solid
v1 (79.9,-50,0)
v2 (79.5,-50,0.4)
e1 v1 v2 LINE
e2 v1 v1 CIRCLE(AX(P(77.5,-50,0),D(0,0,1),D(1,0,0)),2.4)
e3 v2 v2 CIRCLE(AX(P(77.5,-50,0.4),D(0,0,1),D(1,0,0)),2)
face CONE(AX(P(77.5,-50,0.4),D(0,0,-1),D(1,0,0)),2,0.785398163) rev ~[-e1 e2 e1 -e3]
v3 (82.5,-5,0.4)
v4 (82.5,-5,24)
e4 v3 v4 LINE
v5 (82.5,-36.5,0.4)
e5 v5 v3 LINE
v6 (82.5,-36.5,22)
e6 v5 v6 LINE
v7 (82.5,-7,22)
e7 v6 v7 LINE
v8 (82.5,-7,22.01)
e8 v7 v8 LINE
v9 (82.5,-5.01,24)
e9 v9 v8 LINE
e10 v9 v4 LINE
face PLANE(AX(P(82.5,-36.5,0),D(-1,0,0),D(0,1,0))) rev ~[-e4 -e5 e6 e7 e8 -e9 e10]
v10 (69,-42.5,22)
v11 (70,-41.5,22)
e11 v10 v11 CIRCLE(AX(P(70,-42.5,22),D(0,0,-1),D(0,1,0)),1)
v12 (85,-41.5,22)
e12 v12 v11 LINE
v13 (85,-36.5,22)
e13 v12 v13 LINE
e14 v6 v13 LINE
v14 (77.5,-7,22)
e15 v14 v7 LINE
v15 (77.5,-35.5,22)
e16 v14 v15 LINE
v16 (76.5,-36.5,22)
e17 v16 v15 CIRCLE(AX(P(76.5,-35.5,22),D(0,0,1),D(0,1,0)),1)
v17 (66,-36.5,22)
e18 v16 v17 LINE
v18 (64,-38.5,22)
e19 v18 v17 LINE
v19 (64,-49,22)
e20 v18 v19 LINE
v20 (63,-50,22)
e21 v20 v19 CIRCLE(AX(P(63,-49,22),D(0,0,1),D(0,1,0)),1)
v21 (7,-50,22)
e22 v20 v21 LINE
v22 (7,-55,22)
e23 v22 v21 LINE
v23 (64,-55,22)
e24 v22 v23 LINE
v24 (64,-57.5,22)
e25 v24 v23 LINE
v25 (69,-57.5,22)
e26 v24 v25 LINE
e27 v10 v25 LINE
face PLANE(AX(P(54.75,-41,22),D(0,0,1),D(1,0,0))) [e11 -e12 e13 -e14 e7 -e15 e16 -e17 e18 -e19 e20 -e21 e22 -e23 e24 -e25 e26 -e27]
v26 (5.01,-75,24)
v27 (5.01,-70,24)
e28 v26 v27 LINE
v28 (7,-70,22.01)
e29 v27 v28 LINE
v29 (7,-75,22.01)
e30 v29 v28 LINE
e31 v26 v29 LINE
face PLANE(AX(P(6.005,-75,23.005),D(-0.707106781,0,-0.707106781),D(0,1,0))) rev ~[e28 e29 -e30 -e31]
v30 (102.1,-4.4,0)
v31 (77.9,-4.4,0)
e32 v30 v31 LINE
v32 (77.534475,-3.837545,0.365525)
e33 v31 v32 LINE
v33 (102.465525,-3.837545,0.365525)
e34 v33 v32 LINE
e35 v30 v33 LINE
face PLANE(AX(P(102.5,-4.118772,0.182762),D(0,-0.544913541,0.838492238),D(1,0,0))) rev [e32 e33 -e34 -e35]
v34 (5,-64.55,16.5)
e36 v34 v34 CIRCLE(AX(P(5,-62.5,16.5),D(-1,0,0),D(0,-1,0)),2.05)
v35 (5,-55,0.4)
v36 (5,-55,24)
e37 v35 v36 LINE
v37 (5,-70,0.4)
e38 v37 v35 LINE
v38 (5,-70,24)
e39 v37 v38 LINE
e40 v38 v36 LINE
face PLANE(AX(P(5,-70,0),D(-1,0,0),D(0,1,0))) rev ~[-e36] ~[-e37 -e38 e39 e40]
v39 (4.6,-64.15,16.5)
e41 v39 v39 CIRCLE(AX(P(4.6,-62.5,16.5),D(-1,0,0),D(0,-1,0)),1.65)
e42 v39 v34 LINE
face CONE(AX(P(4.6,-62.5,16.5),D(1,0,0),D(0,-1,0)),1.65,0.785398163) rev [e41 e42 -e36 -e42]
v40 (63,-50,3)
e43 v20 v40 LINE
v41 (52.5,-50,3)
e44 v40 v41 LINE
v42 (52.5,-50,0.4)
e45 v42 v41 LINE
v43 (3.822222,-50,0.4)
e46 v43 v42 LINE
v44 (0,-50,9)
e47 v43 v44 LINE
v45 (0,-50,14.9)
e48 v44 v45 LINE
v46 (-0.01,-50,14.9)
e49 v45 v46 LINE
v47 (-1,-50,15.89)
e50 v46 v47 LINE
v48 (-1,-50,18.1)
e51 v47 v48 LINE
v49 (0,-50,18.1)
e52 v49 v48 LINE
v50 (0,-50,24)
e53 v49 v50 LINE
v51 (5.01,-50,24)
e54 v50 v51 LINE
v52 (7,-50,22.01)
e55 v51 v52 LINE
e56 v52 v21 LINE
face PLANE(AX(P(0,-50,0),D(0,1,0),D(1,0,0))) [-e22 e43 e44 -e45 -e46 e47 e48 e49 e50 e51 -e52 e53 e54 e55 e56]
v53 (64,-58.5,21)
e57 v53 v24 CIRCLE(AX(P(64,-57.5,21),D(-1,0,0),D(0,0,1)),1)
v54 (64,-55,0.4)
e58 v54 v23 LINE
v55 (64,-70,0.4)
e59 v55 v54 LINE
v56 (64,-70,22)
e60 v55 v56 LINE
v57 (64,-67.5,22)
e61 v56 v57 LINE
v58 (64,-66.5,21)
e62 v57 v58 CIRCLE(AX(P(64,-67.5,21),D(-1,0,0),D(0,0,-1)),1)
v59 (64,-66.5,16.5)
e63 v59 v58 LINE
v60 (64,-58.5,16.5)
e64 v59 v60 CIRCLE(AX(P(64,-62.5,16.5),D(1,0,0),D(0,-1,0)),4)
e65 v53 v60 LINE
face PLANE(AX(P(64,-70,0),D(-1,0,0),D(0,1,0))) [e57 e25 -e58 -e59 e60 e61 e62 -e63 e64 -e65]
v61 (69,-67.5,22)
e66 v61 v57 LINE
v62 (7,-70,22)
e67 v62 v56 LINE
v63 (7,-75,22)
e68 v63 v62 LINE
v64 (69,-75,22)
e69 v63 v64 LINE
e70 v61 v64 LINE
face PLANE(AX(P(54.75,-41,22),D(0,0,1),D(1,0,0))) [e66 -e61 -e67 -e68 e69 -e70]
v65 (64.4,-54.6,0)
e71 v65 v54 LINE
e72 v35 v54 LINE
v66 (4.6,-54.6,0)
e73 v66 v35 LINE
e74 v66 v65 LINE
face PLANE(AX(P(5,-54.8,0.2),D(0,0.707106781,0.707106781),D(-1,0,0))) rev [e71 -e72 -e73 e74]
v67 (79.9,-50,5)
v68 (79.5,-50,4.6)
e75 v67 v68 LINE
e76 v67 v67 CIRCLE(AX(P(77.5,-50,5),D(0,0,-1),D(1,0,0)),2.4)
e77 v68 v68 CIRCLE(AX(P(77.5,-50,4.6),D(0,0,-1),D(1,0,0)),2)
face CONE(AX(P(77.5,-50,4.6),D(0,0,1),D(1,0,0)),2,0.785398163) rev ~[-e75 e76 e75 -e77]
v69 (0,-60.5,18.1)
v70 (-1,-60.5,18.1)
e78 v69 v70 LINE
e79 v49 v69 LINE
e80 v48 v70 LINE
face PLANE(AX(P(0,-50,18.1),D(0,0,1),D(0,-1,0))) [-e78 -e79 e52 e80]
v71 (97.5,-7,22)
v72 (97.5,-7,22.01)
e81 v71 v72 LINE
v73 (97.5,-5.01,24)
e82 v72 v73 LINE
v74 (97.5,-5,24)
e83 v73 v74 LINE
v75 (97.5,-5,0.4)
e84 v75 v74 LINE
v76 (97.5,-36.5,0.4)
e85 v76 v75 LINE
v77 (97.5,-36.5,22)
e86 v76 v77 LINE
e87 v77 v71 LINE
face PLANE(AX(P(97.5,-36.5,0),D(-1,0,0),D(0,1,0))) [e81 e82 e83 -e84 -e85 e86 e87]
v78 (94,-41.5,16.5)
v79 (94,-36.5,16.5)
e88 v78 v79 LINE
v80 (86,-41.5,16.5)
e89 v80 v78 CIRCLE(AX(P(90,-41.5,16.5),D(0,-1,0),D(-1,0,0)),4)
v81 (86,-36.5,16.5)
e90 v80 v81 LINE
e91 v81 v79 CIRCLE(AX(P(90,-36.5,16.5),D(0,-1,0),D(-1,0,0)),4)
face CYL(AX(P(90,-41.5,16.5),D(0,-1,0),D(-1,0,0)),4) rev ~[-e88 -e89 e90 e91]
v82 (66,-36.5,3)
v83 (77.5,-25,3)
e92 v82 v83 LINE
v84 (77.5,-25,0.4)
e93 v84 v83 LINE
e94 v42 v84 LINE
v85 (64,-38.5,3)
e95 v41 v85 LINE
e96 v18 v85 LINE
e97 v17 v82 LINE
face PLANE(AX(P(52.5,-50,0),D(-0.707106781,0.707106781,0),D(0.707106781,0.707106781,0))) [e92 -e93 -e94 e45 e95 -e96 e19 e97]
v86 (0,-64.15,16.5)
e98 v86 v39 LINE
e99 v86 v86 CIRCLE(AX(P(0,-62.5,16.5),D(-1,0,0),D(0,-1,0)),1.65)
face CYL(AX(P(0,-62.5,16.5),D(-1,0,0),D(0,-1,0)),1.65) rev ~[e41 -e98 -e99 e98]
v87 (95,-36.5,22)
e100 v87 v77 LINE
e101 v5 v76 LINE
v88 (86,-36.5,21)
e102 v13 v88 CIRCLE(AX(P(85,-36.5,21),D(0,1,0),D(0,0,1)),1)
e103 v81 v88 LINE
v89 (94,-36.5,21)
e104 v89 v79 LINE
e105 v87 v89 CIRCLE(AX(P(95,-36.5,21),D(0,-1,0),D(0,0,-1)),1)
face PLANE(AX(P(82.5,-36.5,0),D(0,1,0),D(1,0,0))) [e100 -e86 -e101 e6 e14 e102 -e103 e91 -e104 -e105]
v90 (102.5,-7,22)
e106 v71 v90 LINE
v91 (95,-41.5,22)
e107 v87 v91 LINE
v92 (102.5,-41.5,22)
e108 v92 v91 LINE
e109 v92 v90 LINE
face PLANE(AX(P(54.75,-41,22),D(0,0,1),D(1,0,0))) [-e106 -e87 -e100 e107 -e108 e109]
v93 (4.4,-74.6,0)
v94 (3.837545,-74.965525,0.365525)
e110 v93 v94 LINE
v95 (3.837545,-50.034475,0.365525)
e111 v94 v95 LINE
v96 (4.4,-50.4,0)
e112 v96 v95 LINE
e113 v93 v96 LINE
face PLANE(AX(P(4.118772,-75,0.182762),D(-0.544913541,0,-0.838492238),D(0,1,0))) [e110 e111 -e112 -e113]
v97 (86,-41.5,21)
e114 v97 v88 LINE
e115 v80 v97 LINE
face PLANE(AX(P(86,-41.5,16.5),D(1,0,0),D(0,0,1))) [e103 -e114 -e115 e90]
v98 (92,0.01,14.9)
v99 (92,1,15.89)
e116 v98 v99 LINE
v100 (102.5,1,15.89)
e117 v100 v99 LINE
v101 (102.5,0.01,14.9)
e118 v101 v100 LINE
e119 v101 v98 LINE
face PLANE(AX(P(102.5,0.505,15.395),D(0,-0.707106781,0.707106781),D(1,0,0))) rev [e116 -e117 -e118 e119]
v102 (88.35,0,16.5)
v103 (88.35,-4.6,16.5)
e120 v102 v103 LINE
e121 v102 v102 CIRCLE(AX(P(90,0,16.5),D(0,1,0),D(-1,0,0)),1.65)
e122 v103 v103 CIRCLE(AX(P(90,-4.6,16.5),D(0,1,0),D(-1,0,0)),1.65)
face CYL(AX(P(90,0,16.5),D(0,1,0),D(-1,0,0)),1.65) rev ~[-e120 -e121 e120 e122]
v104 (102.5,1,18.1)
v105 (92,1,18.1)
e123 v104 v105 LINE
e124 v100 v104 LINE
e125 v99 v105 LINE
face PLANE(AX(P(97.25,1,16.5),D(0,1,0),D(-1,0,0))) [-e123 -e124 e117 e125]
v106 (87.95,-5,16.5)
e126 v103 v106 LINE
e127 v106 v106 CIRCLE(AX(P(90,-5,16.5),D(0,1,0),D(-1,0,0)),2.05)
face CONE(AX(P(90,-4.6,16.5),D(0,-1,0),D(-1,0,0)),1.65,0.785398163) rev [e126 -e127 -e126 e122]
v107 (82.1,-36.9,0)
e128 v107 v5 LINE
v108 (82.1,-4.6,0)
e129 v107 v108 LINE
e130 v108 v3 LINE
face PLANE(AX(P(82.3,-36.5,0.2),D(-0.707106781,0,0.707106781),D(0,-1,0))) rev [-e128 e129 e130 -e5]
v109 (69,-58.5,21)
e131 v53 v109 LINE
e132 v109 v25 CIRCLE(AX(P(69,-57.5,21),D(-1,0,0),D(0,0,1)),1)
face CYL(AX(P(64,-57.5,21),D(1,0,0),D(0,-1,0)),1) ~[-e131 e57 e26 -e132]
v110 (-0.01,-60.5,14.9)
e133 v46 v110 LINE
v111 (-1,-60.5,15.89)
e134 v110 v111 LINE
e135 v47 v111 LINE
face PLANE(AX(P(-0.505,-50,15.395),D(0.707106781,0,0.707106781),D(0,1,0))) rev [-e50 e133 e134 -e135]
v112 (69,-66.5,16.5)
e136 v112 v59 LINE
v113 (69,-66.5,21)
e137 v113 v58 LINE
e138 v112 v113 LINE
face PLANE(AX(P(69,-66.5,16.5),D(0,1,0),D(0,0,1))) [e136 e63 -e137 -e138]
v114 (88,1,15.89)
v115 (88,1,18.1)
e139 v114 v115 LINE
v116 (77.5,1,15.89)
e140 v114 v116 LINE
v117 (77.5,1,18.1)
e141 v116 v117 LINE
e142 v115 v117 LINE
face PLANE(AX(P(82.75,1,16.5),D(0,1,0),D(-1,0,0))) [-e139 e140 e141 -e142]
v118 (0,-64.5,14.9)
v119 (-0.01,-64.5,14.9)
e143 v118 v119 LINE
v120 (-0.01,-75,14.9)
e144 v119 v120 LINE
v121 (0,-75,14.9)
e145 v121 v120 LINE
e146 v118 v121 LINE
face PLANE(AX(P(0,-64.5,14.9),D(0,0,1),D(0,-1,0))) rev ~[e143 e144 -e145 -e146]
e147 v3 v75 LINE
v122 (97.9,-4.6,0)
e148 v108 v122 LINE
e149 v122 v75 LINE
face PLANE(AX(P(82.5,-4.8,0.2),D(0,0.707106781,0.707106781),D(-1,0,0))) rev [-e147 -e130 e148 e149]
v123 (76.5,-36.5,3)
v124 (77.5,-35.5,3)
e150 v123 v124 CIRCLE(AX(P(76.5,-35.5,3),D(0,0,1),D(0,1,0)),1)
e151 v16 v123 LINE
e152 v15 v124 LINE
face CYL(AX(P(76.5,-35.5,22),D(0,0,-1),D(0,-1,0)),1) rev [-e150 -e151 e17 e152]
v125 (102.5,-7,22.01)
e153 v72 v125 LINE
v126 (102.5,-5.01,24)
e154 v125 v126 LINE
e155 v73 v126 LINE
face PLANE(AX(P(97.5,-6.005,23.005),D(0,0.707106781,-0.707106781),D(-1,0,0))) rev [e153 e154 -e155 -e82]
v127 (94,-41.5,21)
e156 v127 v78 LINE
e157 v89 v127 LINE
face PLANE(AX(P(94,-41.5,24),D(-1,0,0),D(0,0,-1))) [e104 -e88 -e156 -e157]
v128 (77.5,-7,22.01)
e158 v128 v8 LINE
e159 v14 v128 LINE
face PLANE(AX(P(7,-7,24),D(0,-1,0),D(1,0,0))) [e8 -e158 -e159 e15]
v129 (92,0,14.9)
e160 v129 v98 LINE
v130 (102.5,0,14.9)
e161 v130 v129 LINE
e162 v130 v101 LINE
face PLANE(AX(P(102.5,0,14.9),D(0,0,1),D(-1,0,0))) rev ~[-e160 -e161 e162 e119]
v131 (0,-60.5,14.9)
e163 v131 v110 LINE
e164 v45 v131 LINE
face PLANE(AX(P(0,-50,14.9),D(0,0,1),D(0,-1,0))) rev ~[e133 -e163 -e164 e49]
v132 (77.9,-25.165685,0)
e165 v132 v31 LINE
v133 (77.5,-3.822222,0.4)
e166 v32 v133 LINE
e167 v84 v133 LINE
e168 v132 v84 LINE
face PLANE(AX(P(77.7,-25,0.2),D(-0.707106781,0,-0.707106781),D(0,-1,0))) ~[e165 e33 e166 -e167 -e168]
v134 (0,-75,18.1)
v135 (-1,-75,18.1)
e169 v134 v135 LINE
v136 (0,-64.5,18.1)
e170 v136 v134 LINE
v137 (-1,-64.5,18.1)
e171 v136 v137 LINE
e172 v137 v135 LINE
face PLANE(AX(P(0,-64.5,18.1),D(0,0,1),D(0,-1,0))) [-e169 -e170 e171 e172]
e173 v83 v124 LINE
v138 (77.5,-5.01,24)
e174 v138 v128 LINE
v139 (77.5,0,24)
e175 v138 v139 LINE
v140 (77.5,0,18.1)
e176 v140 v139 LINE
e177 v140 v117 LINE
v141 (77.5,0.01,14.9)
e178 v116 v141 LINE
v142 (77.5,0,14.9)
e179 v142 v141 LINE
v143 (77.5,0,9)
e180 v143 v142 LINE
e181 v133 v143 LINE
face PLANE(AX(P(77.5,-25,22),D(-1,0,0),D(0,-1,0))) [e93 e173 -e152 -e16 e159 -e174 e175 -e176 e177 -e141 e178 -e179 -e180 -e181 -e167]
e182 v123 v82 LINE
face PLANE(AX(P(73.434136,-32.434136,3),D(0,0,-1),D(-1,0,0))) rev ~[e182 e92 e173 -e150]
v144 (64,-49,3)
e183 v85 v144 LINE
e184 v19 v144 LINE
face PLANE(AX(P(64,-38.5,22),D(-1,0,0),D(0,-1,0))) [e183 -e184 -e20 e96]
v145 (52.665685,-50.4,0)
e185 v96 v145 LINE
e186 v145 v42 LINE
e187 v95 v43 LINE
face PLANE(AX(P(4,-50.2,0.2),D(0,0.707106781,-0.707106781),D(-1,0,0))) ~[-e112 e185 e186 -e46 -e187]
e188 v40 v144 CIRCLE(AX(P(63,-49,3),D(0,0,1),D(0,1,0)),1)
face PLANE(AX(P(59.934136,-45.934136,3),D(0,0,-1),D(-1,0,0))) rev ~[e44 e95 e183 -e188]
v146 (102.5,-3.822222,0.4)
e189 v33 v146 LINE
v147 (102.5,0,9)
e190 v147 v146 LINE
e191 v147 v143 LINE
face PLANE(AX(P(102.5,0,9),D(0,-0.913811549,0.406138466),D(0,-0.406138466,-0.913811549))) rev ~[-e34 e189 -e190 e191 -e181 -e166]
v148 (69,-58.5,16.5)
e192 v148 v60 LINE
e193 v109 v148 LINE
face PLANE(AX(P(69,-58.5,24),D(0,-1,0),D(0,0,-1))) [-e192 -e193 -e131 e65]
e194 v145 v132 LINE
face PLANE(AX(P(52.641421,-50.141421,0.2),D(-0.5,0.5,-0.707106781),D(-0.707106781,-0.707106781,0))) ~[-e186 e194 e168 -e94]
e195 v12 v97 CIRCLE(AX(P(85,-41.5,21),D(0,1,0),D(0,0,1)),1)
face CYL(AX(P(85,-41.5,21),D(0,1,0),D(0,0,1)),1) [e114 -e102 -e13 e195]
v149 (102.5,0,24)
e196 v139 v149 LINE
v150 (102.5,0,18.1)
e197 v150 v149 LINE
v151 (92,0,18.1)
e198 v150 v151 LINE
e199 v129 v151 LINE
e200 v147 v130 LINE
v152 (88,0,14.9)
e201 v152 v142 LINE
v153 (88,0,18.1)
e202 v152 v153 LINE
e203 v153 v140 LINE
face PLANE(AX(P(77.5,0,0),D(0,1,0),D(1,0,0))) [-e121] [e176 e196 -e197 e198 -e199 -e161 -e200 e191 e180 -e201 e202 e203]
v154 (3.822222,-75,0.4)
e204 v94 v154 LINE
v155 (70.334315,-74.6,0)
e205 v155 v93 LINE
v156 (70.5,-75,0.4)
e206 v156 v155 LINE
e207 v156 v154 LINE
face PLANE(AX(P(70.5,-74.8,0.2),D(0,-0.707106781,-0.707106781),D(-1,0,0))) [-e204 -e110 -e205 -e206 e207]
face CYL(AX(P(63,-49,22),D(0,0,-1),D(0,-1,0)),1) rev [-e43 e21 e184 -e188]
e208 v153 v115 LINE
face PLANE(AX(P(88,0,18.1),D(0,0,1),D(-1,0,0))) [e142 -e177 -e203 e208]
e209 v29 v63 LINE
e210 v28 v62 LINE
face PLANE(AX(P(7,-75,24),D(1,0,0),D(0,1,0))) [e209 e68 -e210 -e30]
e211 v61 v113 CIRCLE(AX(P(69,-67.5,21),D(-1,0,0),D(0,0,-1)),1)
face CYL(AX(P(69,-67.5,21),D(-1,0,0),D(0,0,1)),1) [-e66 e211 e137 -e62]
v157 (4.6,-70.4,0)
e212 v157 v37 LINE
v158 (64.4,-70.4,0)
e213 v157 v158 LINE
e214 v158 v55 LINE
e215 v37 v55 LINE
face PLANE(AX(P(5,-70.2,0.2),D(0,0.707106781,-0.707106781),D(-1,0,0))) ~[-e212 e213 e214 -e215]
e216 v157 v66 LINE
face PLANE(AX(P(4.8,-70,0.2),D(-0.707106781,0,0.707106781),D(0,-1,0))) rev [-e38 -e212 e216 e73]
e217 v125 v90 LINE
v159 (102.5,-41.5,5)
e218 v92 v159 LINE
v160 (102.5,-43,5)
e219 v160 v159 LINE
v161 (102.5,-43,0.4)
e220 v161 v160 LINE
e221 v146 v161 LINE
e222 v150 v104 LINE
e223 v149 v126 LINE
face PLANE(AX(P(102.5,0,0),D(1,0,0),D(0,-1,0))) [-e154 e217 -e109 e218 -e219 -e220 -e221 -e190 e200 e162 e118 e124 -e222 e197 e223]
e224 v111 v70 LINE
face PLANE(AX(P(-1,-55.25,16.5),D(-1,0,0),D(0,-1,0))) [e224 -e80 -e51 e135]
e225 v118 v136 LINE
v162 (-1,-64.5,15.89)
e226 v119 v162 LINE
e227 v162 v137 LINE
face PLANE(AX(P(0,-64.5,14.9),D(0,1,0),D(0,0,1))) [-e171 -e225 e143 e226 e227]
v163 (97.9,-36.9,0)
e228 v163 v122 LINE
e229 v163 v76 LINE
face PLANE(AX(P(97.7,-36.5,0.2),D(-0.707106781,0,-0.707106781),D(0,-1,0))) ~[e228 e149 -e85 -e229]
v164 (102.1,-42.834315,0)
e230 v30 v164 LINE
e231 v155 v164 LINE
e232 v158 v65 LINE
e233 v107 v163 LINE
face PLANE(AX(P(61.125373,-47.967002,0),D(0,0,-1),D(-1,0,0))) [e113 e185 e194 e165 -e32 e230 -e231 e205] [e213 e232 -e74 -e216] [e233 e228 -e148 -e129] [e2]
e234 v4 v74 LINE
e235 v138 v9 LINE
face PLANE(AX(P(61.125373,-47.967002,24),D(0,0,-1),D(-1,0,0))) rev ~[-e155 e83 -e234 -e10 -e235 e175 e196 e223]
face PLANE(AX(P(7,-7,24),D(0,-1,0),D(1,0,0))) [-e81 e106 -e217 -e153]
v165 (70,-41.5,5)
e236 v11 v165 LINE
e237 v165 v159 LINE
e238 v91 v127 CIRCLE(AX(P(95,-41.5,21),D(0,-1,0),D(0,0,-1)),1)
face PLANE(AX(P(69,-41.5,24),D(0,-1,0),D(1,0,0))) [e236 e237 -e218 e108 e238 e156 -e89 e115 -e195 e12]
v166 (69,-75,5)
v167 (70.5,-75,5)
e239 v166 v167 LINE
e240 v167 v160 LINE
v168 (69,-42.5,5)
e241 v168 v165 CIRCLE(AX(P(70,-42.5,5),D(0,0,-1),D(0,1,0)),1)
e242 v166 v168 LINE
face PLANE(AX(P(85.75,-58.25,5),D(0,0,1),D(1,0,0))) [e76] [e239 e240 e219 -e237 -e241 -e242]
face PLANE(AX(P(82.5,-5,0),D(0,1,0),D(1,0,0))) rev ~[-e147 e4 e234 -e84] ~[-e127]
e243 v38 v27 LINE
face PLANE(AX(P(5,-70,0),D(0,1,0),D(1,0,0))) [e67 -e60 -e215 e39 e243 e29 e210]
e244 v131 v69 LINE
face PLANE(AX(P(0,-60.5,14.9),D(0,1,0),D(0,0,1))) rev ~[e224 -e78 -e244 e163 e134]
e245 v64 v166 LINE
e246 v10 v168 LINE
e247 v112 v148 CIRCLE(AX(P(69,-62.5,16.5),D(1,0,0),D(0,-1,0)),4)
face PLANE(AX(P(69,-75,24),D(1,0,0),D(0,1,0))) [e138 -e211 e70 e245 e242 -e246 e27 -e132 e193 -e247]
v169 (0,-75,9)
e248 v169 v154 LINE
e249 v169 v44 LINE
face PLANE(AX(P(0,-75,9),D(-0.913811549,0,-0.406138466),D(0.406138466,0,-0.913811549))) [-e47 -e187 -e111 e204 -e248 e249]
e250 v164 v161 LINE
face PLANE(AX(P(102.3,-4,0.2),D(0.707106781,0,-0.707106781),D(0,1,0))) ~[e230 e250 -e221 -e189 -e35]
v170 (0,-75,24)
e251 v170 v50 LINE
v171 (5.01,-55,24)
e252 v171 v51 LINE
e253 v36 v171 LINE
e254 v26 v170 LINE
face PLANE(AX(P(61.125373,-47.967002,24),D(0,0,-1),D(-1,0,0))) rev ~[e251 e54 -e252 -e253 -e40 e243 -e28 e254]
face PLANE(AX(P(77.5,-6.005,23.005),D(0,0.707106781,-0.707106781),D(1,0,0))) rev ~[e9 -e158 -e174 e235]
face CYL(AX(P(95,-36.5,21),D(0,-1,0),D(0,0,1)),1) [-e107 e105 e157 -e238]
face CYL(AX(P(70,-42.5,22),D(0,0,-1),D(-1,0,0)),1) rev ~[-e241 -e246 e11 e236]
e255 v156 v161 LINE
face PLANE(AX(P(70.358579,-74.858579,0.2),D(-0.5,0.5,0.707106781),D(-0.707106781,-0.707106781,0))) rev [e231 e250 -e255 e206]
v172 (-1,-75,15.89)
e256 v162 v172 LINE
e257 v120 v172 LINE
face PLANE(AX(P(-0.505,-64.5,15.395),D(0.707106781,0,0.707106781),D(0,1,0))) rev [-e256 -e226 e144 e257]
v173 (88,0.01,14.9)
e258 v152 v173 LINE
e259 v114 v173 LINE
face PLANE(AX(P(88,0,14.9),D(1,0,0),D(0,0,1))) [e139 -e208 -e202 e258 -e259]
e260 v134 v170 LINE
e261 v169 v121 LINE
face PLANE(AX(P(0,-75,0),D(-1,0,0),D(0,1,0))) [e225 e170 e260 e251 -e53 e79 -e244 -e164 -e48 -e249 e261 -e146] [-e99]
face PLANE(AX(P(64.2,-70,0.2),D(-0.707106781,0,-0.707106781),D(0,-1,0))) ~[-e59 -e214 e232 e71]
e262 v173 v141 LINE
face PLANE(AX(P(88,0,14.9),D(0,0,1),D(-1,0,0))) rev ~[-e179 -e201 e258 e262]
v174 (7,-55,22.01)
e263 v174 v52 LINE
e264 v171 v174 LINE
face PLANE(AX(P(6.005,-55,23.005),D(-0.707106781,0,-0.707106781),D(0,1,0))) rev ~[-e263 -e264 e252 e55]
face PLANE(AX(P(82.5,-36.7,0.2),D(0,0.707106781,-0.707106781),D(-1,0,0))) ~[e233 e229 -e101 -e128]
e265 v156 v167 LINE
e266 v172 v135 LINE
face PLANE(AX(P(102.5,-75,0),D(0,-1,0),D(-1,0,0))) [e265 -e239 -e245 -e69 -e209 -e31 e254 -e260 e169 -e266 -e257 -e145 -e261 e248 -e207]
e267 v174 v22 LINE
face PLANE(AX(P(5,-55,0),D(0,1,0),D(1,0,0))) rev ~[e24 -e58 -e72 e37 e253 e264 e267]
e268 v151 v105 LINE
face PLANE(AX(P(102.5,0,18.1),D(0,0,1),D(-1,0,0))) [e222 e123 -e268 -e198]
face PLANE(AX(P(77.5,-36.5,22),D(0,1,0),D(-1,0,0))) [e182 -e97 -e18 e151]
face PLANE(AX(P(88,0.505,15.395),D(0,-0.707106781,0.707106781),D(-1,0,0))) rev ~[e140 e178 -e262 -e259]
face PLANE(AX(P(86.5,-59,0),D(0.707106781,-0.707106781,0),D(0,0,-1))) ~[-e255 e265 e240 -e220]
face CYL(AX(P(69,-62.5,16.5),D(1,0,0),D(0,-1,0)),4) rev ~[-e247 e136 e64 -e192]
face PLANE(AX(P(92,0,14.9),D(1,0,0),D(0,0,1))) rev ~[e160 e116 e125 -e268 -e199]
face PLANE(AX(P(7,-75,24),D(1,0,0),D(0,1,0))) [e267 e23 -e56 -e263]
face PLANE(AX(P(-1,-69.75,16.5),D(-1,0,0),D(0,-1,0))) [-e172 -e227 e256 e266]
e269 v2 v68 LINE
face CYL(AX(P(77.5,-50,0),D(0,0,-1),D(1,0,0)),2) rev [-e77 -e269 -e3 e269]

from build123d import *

# Parameters (mm, degrees)
SKETCH005_R        = 2
SKETCH005_W        = 59
SKETCH005_H        = 15
SKETCH005_W_2      = 15
SKETCH005_H_2      = 31.5
PAD002_DEPTH       = 24
SKETCH007_W        = 33.5
SKETCH007_H        = 33.5
POCKET003_DEPTH    = 19
CHAMFER002004_SIZE = 32
SKETCH008_W        = 95.5
SKETCH008_H        = 68
POCKET004_DEPTH    = 2
CHAMFER002005_SIZE = 1.99
POCKET005_DEPTH    = 75.001
POCKET006_DEPTH    = 102.501
POCKET007_DEPTH    = 19
SKETCH012_R        = 1.65
POCKET008_DEPTH    = 5
SKETCH013_R        = 1.65
POCKET009_DEPTH    = 5
SKETCH014_W        = 10.5
SKETCH014_H        = 3.2
PAD003_DEPTH       = 1
SKETCH015_W        = 10.5
SKETCH015_H        = 3.2
PAD004_DEPTH       = 1
CHAMFER002006_SIZE = 0.99
POCKET010_DEPTH    = 5
POCKET011_DEPTH    = 5
CHAMFER002007_SIZE = 0.4
FILLET001002_R     = 1
CHAMFER002008_SIZE = 0.4


with BuildPart() as part:
    # Sketch005 → Pad002 (new body)
    with BuildSketch(Plane.XY):
        Polygon((52.5, -50), (77.5, -25), (77.5, 0), (102.5, 0), (102.5, -75), (0, -75), (0, -50), align=None)
        with Locations((77.5, -50)):
            Circle(SKETCH005_R, mode=Mode.SUBTRACT)
        with Locations((34.5, -62.5)):
            Rectangle(SKETCH005_W, SKETCH005_H, mode=Mode.SUBTRACT)
        with Locations((90, -20.75)):
            Rectangle(SKETCH005_W_2, SKETCH005_H_2, mode=Mode.SUBTRACT)
    extrude(amount=PAD002_DEPTH)

    # Sketch007 (on Face18 of Pad002) → Pocket003 (cut)
    with BuildSketch(Plane.XY.offset(24)):
        with Locations((85.75, -58.25)):
            Rectangle(SKETCH007_W, SKETCH007_H)
    extrude(amount=-POCKET003_DEPTH, mode=Mode.SUBTRACT)

    # Chamfer002004
    chamfer002004_edges = [part.edges().sort_by_distance(p)[0] for p in [
        (102.5, -75, 2.5),
    ]]
    chamfer(chamfer002004_edges, length=CHAMFER002004_SIZE)

    # Sketch008 (on Face6 of Chamfer002004) → Pocket004 (cut)
    with BuildSketch(Plane.XY.offset(24)):
        with Locations((54.75, -41)):
            Rectangle(SKETCH008_W, SKETCH008_H)
    extrude(amount=-POCKET004_DEPTH, mode=Mode.SUBTRACT)

    # Chamfer002005
    chamfer002005_edges = [part.edges().sort_by_distance(p)[0] for p in [
        (7, -72.5, 24),
        (7, -52.5, 24),
        (80, -7, 24),
        (100, -7, 24),
    ]]
    chamfer(chamfer002005_edges, length=CHAMFER002005_SIZE)

    # Sketch009 (on Face1 of Chamfer002005) → Pocket005 (cut, through all)
    with BuildSketch(Plane.XZ.offset(75)):
        Polygon((0, 9), (4, 0), (0, 0), align=None)
    extrude(amount=-POCKET005_DEPTH, mode=Mode.SUBTRACT)

    # Sketch010 (on Face17 of Pocket005) → Pocket006 (cut, through all)
    with BuildSketch(Plane.YZ.offset(102.5)):
        Polygon((0, 9), (-4, 0), (0, 0), align=None)
    extrude(amount=-POCKET006_DEPTH, mode=Mode.SUBTRACT)

    # Sketch011 (on Face10 of Pocket006) → Pocket007 (cut)
    with BuildSketch(Plane.XY.offset(22)):
        Polygon((64, -38.5), (64, -50), (52.5, -50), align=None)
        Polygon((77.5, -25), (77.5, -36.5), (66, -36.5), align=None)
    extrude(amount=-POCKET007_DEPTH, mode=Mode.SUBTRACT)

    # Sketch012 (on Face4 of Pocket007) → Pocket008 (cut)
    with BuildSketch(Plane(origin=(0, 0, 0), x_dir=(0, -1, 0), z_dir=(-1, 0, 0))):
        with Locations((62.5, 16.5)):
            Circle(SKETCH012_R)
    extrude(amount=-POCKET008_DEPTH, mode=Mode.SUBTRACT)

    # Sketch013 (on Face37 of Pocket008) → Pocket009 (cut)
    with BuildSketch(Plane(origin=(0, 0, 0), x_dir=(-1, 0, 0), z_dir=(0, 1, 0))):
        with Locations((-90, 16.5)):
            Circle(SKETCH013_R)
    extrude(amount=-POCKET009_DEPTH, mode=Mode.SUBTRACT)

    # Sketch014 (on Face37 of Pocket009) → Pad003 (join)
    with BuildSketch(Plane(origin=(0, 0, 0), x_dir=(-1, 0, 0), z_dir=(0, 1, 0))):
        with Locations((-97.25, 16.5)):
            Rectangle(SKETCH014_W, SKETCH014_H)
        with Locations((-82.75, 16.5)):
            Rectangle(SKETCH014_W, SKETCH014_H)
    extrude(amount=PAD003_DEPTH)

    # Sketch015 (on Face4 of Pad003) → Pad004 (join)
    with BuildSketch(Plane(origin=(0, 0, 0), x_dir=(0, -1, 0), z_dir=(-1, 0, 0))):
        with Locations((55.25, 16.5)):
            Rectangle(SKETCH015_W, SKETCH015_H)
        with Locations((69.75, 16.5)):
            Rectangle(SKETCH015_W, SKETCH015_H)
    extrude(amount=PAD004_DEPTH)

    # Chamfer002006
    chamfer002006_edges = [part.edges().sort_by_distance(p)[0] for p in [
        (-1, -55.25, 14.9),
        (-1, -69.75, 14.9),
        (97.25, 1, 14.9),
        (82.75, 1, 14.9),
    ]]
    chamfer(chamfer002006_edges, length=CHAMFER002006_SIZE)

    # Sketch016 (on Face15 of Chamfer002006) → Pocket010 (cut)
    with BuildSketch(Plane.YZ.offset(69)):
        with BuildLine():
            ThreePointArc((-66.5, 16.5), (-62.5, 12.5), (-58.5, 16.5))
            Line((-58.5, 24), (-58.5, 16.5))
            Line((-66.5, 24), (-58.5, 24))
            Line((-66.5, 16.5), (-66.5, 24))
        make_face()
    extrude(amount=-POCKET010_DEPTH, mode=Mode.SUBTRACT)

    # Sketch017 (on Face37 of Pocket010) → Pocket011 (cut)
    with BuildSketch(Plane.XZ.offset(41.5)):
        with BuildLine():
            ThreePointArc((86, 16.5), (90, 12.5), (94, 16.5))
            Line((94, 24), (94, 16.5))
            Line((86, 24), (94, 24))
            Line((86, 16.5), (86, 24))
        make_face()
    extrude(amount=-POCKET011_DEPTH, mode=Mode.SUBTRACT)

    # Chamfer002007
    chamfer002007_edges = [part.edges().sort_by_distance(p)[0] for p in [
        (102.5, -23.5, 0),
        (90, -4, 0),
        (77.5, -14.5, 0),
        (65, -37.5, 0),
        (28.25, -50, 0),
        (4, -62.5, 0),
        (37.25, -75, 0),
        (86.5, -59, 0),
        (75.5, -50, 0),
        (5, -62.5, 0),
        (34.5, -70, 0),
        (34.5, -55, 0),
        (64, -62.5, 0),
        (82.5, -20.75, 0),
        (90, -36.5, 0),
        (90, -5, 0),
        (97.5, -20.75, 0),
        (75.5, -50, 5),
    ]]
    chamfer(chamfer002007_edges, length=CHAMFER002007_SIZE)

    # Fillet001002
    fillet001002_edges = [part.edges().sort_by_distance(p)[0] for p in [
        (66.5, -66.5, 22),
        (66.5, -58.5, 22),
        (86, -39, 22),
        (94, -39, 22),
        (69, -41.5, 13.5),
        (64, -50, 12.5),
        (77.5, -36.5, 12.5),
    ]]
    fillet(fillet001002_edges, radius=FILLET001002_R)

    # Chamfer002008
    chamfer002008_edges = [part.edges().sort_by_distance(p)[0] for p in [
        (5, -60.85, 16.5),
        (91.65, -5, 16.5),
    ]]
    chamfer(chamfer002008_edges, length=CHAMFER002008_SIZE)


solid = part.part
